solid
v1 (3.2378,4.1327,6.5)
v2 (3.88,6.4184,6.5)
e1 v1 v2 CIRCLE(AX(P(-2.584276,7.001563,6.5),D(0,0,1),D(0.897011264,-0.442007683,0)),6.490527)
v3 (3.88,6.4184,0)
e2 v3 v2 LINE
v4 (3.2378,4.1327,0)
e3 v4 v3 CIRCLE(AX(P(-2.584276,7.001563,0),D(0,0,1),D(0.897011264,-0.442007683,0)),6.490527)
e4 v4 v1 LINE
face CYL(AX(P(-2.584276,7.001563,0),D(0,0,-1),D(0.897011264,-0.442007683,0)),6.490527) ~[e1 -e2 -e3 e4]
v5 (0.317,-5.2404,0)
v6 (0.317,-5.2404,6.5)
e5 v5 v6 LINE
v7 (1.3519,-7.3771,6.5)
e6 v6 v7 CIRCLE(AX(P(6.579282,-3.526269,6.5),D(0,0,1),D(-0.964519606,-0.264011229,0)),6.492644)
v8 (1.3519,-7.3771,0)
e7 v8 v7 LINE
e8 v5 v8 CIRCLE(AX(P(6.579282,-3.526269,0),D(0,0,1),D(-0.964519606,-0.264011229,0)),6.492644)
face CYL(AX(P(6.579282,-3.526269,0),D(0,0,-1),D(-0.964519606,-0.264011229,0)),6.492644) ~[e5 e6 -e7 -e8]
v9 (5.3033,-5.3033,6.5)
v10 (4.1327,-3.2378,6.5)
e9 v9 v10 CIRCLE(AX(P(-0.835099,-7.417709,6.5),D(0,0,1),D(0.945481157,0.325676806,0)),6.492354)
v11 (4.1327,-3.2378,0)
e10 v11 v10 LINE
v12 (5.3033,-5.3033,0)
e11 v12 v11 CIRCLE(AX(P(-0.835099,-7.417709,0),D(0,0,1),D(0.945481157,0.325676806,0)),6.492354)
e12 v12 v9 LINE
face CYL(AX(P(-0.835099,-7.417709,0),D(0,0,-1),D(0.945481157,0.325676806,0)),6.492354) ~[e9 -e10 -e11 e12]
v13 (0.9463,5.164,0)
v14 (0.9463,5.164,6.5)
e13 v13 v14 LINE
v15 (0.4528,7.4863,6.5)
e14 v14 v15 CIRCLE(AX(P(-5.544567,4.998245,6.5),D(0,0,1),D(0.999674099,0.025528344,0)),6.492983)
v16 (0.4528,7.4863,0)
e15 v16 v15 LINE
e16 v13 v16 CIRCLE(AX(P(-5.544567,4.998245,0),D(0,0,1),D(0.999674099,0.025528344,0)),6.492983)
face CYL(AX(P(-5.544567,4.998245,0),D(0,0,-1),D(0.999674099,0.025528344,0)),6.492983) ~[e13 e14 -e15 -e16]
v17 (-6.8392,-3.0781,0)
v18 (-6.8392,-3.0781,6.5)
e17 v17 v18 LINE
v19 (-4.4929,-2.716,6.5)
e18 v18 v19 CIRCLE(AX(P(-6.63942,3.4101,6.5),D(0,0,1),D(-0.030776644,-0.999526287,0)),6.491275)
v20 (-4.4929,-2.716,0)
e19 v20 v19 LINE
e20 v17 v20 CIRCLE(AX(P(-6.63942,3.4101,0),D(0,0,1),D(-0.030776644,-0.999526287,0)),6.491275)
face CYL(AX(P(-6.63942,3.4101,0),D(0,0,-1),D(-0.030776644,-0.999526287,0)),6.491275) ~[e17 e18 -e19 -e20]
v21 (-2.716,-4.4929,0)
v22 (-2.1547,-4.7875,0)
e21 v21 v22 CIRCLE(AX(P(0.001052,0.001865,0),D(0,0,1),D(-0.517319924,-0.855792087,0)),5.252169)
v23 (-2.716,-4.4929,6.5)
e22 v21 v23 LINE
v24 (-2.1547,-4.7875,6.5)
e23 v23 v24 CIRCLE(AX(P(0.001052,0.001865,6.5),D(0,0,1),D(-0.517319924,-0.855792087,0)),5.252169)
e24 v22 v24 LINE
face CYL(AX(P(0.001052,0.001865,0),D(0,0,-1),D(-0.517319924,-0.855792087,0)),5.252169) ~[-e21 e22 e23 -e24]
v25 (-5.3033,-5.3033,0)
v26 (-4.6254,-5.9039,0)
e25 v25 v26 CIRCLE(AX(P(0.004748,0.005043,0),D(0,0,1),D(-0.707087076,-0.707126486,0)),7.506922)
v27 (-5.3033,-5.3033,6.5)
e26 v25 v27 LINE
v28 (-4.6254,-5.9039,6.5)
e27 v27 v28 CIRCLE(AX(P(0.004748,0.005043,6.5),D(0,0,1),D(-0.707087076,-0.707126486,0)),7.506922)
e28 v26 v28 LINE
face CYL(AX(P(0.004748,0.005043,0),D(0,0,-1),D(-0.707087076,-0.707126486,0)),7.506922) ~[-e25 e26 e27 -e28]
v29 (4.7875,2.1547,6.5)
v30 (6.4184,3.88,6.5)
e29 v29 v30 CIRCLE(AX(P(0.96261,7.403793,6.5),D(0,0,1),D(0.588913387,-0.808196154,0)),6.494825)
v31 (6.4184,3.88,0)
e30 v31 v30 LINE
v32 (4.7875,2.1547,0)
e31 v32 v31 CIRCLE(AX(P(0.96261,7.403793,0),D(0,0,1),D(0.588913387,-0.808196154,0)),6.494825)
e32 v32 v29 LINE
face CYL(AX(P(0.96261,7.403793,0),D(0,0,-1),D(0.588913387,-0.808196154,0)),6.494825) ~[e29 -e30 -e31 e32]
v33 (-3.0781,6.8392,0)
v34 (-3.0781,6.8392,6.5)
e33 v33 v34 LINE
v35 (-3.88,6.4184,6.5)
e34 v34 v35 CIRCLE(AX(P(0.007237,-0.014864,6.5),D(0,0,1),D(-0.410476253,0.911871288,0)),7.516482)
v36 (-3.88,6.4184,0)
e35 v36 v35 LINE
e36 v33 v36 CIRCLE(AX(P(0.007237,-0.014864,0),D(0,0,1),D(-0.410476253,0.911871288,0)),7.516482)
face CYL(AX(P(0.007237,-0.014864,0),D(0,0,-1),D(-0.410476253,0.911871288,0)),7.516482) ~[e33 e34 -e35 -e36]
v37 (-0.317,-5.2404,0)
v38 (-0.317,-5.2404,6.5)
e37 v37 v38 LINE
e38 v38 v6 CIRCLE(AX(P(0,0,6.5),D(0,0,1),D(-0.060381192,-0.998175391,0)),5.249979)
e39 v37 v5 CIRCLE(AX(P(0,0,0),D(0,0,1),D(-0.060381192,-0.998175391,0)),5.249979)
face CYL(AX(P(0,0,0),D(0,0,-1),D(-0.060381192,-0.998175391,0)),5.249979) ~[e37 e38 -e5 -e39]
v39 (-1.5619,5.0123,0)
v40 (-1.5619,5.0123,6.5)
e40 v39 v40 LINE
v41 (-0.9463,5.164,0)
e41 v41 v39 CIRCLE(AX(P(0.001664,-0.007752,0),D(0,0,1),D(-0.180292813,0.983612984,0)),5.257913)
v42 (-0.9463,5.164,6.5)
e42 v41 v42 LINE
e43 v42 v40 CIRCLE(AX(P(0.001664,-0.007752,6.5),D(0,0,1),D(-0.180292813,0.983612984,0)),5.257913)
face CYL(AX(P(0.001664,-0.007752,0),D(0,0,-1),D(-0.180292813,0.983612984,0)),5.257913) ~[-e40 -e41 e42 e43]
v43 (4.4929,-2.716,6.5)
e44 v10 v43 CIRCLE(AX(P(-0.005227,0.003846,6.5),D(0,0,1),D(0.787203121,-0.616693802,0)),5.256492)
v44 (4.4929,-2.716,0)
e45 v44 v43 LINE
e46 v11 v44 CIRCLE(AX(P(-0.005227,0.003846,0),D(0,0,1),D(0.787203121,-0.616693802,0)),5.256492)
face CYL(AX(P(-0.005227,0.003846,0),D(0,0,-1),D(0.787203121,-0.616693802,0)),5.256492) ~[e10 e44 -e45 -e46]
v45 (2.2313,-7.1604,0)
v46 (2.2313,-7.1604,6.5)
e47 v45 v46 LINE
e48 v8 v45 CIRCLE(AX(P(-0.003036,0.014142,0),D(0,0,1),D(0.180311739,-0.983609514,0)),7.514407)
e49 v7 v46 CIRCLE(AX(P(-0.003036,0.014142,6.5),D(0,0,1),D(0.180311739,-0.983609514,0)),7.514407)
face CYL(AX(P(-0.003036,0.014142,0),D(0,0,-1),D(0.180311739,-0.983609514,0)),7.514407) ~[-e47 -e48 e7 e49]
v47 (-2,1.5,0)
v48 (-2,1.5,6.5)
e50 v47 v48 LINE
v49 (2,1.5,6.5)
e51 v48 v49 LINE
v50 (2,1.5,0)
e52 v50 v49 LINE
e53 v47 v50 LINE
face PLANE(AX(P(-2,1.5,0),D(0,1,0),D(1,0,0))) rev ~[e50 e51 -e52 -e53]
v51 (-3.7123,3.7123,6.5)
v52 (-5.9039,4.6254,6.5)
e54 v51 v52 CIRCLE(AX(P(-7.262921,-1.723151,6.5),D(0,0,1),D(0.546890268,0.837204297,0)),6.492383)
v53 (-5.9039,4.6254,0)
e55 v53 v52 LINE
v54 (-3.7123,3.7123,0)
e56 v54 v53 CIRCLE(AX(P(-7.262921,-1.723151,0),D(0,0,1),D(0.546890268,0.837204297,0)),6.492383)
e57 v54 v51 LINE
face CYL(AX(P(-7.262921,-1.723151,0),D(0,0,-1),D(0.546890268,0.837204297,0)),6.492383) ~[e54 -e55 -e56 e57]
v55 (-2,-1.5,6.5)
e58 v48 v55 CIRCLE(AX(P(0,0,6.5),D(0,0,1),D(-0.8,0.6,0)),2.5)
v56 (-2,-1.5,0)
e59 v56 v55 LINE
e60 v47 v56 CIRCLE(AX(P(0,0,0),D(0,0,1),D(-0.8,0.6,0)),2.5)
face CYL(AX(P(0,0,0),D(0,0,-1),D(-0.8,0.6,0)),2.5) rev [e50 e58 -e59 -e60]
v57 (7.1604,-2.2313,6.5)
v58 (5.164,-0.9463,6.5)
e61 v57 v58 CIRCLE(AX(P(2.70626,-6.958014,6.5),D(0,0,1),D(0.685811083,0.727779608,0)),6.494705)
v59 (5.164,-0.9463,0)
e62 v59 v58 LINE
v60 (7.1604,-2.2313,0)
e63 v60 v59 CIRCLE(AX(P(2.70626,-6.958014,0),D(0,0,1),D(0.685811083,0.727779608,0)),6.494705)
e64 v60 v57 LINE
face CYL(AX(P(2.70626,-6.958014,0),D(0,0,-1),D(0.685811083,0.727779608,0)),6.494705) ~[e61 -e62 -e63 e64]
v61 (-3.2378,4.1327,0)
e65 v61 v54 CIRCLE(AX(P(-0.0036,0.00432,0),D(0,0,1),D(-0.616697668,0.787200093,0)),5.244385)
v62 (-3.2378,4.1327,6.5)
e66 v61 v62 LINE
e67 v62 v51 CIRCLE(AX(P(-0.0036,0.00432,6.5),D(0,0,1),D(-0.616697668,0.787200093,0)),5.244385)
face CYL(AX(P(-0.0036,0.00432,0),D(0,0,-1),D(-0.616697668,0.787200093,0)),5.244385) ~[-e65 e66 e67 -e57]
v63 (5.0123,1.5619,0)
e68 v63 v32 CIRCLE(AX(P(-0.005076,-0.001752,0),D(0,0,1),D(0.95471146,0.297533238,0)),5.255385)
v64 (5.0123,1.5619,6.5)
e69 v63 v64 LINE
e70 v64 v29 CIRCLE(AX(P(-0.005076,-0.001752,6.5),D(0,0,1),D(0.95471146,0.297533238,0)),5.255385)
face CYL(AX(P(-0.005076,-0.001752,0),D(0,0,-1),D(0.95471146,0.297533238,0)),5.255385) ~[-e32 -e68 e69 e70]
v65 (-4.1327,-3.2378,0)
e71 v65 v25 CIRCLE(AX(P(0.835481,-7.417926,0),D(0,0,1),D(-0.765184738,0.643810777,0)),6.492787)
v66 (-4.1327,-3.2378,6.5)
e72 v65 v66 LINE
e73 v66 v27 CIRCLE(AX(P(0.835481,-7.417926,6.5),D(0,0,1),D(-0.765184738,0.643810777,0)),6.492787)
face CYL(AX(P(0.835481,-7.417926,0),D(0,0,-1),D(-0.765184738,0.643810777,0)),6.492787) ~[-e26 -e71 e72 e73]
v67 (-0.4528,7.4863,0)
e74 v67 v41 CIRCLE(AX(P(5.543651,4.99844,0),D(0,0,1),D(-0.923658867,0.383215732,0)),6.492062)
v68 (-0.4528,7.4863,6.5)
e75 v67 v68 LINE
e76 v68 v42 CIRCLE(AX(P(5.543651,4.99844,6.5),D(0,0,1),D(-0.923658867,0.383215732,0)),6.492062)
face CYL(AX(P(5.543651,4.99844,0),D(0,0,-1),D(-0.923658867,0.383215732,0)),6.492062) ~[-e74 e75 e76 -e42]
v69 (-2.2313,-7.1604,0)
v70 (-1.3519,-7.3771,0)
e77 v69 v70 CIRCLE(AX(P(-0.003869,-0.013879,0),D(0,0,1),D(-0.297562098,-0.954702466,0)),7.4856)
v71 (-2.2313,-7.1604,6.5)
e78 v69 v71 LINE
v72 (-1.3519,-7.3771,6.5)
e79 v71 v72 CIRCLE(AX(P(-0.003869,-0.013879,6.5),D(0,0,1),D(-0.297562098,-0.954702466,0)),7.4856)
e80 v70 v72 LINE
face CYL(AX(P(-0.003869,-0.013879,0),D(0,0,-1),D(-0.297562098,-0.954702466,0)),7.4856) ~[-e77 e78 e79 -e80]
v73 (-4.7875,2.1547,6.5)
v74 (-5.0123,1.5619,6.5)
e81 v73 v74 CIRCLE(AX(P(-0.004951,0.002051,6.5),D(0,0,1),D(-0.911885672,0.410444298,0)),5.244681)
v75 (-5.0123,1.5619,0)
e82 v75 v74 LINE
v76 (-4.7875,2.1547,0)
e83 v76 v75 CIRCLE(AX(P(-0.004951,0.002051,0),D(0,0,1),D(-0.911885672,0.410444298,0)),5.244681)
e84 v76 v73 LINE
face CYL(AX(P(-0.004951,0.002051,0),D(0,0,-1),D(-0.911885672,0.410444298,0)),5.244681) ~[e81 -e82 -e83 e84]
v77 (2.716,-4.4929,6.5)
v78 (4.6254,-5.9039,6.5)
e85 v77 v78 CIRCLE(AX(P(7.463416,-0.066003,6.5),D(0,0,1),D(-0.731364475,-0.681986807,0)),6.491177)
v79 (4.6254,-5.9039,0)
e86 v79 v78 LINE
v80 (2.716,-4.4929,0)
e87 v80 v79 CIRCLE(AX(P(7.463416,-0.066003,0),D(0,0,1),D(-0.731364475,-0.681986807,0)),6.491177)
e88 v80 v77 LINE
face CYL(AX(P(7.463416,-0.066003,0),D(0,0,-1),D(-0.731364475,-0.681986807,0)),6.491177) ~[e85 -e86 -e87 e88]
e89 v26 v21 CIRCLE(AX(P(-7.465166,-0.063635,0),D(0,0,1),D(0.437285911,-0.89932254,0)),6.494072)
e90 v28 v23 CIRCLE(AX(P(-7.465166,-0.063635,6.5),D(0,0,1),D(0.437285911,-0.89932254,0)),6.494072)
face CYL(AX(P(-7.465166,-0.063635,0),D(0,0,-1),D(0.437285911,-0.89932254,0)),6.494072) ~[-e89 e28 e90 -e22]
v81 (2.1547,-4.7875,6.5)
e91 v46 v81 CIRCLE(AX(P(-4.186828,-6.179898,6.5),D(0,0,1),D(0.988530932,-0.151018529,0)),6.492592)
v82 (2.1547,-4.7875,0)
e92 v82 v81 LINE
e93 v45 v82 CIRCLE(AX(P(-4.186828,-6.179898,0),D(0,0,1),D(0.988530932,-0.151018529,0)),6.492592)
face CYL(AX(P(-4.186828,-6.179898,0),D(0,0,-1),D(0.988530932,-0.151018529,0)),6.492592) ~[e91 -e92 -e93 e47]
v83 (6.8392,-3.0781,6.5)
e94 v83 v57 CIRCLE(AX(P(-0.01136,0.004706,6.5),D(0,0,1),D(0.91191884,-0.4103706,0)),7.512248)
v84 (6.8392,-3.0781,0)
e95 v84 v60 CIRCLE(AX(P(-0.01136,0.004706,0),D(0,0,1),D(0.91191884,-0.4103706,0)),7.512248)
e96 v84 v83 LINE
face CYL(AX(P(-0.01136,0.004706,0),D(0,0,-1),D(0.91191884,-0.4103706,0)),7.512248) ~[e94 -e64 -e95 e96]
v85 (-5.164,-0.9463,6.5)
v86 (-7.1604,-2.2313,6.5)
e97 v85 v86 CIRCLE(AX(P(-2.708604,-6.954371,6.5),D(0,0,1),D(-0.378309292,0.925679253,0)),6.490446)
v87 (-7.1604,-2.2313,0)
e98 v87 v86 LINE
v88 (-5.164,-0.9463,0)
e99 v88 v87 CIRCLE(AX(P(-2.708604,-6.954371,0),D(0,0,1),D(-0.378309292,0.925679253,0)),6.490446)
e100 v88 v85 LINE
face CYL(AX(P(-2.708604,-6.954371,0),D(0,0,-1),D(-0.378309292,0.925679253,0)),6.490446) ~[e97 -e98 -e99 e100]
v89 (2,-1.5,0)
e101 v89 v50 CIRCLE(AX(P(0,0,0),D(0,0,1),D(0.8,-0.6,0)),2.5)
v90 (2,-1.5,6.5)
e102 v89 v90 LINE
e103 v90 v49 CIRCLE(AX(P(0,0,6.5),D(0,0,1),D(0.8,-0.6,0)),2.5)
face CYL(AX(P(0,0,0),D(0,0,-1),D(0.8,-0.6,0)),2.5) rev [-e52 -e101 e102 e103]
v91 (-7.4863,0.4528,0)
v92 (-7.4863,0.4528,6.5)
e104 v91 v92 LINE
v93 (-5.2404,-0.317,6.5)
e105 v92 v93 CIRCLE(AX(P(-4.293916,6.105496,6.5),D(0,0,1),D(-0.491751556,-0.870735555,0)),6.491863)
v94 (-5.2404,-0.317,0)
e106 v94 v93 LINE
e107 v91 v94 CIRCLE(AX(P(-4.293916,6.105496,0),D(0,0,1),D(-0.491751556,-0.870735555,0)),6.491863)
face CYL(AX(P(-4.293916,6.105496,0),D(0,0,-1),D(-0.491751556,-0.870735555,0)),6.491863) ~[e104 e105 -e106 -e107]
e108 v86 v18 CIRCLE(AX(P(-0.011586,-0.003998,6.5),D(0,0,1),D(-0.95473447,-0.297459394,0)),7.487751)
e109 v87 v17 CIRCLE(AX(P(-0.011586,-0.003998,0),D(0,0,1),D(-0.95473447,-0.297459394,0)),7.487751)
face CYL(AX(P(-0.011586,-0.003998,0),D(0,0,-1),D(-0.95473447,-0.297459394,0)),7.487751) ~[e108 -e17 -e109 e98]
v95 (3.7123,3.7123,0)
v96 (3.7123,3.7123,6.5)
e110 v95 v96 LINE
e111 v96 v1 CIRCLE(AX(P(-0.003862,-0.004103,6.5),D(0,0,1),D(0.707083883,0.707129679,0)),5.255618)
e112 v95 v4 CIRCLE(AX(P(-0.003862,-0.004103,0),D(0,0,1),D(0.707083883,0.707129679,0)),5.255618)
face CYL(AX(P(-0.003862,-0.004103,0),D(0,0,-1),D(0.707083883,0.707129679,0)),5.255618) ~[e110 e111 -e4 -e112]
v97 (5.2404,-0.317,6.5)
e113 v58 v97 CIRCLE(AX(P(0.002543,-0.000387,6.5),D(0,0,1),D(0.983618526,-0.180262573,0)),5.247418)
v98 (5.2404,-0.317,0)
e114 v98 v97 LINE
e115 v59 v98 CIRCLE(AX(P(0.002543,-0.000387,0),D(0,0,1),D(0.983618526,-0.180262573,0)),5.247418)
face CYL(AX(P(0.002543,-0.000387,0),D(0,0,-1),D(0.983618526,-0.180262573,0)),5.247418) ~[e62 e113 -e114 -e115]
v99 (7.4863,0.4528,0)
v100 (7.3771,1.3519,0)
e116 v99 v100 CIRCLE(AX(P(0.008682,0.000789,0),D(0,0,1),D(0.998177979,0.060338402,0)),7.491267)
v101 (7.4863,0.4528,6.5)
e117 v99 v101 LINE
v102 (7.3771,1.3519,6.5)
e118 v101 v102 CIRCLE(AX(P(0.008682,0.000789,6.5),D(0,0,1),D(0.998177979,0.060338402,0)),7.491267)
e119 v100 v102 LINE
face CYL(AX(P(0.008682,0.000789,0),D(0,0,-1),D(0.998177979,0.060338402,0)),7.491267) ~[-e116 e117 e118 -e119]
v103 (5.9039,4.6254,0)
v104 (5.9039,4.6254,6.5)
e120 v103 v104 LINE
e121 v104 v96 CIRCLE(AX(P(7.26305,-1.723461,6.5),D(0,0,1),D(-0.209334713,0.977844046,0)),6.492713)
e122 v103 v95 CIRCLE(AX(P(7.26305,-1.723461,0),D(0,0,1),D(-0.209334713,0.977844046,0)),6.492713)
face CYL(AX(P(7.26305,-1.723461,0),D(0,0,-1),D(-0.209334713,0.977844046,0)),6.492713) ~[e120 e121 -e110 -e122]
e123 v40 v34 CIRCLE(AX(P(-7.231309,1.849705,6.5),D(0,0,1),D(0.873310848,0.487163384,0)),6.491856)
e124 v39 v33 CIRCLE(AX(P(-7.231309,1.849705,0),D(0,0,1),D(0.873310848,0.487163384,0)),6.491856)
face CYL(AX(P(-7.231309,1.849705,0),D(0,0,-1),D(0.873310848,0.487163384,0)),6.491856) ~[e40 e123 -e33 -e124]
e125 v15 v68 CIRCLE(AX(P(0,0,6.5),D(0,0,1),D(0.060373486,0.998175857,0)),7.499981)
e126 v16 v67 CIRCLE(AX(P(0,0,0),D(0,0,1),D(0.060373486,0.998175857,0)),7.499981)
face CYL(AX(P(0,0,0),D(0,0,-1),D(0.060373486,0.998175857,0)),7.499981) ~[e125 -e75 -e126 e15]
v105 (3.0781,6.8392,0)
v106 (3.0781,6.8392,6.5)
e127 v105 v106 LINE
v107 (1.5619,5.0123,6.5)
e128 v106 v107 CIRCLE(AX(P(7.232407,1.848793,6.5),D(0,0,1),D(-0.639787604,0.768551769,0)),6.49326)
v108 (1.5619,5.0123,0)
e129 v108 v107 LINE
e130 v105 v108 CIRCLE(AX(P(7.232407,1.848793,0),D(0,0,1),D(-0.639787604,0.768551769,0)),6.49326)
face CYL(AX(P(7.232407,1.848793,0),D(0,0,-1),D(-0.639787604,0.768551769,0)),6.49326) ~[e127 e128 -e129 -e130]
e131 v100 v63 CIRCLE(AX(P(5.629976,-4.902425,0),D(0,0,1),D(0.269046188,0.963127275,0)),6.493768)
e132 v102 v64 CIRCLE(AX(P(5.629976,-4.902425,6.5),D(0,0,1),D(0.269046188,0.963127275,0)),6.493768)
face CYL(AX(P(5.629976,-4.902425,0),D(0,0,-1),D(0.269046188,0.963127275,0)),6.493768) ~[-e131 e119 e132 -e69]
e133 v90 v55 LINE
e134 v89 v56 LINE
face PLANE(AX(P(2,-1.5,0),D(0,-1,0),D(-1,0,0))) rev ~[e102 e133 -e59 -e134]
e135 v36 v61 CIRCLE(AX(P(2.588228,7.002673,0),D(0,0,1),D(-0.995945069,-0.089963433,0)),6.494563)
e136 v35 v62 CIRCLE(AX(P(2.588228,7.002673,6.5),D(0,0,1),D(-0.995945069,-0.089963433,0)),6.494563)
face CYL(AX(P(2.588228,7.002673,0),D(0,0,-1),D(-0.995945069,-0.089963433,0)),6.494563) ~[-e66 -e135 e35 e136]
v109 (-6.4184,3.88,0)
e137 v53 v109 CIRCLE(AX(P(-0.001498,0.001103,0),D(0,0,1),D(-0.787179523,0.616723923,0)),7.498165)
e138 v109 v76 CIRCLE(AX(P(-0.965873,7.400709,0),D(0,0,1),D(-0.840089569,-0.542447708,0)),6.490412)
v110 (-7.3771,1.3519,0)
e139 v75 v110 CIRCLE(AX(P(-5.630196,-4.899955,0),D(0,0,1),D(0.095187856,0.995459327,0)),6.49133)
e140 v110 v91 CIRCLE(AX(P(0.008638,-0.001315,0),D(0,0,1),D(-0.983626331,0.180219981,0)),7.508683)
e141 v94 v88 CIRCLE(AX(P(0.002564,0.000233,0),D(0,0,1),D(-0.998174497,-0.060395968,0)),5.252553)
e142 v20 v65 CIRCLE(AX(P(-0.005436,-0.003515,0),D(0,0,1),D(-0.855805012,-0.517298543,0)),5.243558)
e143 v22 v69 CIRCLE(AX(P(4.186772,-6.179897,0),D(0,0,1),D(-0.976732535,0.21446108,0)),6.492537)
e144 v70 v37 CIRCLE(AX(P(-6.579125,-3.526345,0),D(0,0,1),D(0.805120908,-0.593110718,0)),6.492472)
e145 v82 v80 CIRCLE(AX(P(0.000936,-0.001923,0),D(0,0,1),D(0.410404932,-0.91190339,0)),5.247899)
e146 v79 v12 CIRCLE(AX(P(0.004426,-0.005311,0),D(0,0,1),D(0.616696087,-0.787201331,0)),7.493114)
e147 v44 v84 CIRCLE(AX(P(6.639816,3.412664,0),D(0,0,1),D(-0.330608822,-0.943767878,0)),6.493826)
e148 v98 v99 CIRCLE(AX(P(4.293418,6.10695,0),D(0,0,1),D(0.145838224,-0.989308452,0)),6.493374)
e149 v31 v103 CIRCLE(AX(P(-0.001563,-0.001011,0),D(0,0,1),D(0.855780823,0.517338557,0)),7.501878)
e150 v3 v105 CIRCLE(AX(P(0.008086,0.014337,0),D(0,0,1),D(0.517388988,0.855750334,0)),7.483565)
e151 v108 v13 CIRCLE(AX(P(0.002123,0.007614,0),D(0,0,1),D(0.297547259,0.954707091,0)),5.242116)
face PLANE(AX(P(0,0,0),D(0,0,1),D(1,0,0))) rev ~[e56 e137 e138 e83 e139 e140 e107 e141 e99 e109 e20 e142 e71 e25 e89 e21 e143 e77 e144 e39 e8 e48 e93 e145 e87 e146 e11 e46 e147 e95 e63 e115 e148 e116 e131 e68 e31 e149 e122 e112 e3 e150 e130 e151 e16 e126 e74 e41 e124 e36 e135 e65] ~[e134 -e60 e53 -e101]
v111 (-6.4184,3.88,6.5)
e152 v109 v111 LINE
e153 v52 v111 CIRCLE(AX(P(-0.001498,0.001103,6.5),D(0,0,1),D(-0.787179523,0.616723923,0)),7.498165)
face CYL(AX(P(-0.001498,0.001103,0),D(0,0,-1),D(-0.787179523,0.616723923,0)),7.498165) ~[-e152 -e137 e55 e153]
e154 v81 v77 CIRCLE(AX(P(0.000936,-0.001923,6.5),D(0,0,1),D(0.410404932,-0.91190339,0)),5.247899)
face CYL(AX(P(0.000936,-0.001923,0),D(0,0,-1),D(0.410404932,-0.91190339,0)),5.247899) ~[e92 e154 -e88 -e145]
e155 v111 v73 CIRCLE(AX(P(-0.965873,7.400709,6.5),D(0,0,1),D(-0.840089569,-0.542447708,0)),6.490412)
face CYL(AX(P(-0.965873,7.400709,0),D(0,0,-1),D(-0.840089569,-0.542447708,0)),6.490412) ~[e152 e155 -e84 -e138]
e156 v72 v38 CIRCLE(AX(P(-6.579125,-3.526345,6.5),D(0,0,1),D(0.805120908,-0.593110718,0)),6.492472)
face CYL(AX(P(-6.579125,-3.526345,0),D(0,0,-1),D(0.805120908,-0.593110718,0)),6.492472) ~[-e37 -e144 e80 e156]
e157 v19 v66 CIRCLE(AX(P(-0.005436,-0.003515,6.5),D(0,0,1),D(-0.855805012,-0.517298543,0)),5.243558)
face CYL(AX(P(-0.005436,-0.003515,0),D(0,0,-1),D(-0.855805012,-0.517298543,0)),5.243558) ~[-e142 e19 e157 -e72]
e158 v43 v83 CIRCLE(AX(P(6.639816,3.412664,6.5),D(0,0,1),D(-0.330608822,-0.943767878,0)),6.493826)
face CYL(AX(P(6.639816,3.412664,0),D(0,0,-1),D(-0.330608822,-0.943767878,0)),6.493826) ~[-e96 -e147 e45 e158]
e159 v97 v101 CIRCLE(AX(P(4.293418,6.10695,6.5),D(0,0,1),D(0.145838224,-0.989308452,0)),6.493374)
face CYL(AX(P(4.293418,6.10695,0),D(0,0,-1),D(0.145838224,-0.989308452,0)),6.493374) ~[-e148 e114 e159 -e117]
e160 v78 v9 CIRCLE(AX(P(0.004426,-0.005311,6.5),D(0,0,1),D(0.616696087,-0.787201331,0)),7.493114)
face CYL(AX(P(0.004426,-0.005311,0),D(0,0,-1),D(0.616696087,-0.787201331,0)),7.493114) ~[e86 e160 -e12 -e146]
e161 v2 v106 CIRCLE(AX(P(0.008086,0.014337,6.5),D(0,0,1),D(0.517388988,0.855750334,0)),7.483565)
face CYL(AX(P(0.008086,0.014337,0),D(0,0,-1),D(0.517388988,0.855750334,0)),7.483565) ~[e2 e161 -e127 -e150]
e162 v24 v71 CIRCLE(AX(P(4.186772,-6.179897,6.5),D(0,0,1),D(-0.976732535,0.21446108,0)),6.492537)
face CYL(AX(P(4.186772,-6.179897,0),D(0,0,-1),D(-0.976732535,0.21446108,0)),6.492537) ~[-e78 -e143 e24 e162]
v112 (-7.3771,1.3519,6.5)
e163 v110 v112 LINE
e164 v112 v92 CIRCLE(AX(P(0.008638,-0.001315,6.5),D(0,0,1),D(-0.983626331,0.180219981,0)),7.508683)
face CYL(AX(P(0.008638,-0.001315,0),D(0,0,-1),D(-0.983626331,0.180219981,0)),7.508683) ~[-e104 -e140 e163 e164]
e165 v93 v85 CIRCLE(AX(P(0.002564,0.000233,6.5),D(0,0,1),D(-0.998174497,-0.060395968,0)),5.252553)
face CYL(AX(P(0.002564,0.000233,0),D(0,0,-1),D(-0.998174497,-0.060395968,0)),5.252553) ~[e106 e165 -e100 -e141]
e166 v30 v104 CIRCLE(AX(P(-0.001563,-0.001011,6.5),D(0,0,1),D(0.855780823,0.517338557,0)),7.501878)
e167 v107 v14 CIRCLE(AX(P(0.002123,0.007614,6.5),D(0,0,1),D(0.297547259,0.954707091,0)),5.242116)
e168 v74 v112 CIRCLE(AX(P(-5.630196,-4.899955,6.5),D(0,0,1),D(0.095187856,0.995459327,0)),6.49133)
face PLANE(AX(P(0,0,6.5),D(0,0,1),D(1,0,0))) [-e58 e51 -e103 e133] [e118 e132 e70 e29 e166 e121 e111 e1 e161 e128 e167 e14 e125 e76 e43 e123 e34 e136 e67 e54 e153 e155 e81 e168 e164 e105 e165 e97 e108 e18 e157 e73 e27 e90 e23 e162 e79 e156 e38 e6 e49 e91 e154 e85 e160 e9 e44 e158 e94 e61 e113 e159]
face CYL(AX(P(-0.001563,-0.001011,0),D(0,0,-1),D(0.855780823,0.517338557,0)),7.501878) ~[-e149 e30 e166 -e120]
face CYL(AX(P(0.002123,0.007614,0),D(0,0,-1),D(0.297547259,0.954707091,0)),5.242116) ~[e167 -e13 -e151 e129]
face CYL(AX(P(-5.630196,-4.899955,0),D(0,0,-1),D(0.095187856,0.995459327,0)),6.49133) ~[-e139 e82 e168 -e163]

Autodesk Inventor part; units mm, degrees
ref_plane "YZ Plane" through (0, 0, 0) normal (1, 0, 0) x (0, 1, 0)
ref_plane "XZ Plane" through (0, 0, 0) normal (0, 1, 0) x (-1, 0, 0)
ref_plane "XY Plane" through (0, 0, 0) normal (0, 0, 1) x (1, 0, 0)
sketch "スケッチ1" plane through (0, 0, 0) normal (0, 0, 1) x (1, 0, 0)
  arc A0 (-3.88, 6.4184) -> (-3.2378, 4.1327) centre (2.5862, 7.0023) ccw
  arc A1 (-3.2378, 4.1327) -> (-3.7123, 3.7123) centre (0, 0) ccw
  arc A2 (-3.7123, 3.7123) -> (-5.9039, 4.6254) centre (-7.263, -1.7233) ccw
  arc A3 (-5.9039, 4.6254) -> (-6.4184, 3.88) centre (0, 0) ccw
  arc A4 (-6.4184, 3.88) -> (-4.7875, 2.1547) centre (-0.9641, 7.4021) ccw
  arc A5 (-4.7875, 2.1547) -> (-5.0123, 1.5619) centre (0, 0) ccw
  arc A6 (-5.0123, 1.5619) -> (-7.3771, 1.3519) centre (-5.6302, -4.9012) ccw
  arc A7 (-7.3771, 1.3519) -> (-7.4863, 0.4528) centre (0, 0) ccw
  arc A8 (-7.4863, 0.4528) -> (-5.2404, -0.317) centre (-4.2936, 6.1062) ccw
  arc A9 (-5.2404, -0.317) -> (-5.164, -0.9463) centre (0, 0) ccw
  arc A10 (-5.164, -0.9463) -> (-7.1604, -2.2313) centre (-2.7076, -6.9563) ccw
  arc A11 (-7.1604, -2.2313) -> (-6.8392, -3.0781) centre (0, 0) ccw
  arc A12 (-6.8392, -3.0781) -> (-4.4929, -2.716) centre (-6.6395, 3.4114) ccw
  arc A13 (-4.4929, -2.716) -> (-4.1327, -3.2378) centre (0, 0) ccw
  arc A14 (-4.1327, -3.2378) -> (-5.3033, -5.3033) centre (0.8353, -7.4178) ccw
  arc A15 (-5.3033, -5.3033) -> (-4.6254, -5.9039) centre (0, 0) ccw
  arc A16 (-4.6254, -5.9039) -> (-2.716, -4.4929) centre (-7.4644, -0.0649) ccw
  arc A17 (-2.716, -4.4929) -> (-2.1547, -4.7875) centre (0, 0) ccw
  arc A18 (-2.1547, -4.7875) -> (-2.2313, -7.1604) centre (4.1868, -6.1799) ccw
  arc A19 (-2.2313, -7.1604) -> (-1.3519, -7.3771) centre (0, 0) ccw
  arc A20 (-1.3519, -7.3771) -> (-0.317, -5.2404) centre (-6.5792, -3.5263) ccw
  arc A21 (-0.317, -5.2404) -> (0.317, -5.2404) centre (0, 0) ccw
  arc A22 (0.317, -5.2404) -> (1.3519, -7.3771) centre (6.5792, -3.5263) ccw
  arc A23 (1.3519, -7.3771) -> (2.2313, -7.1604) centre (0, 0) ccw
  arc A24 (2.2313, -7.1604) -> (2.1547, -4.7875) centre (-4.1868, -6.1799) ccw
  arc A25 (2.1547, -4.7875) -> (2.716, -4.4929) centre (0, 0) ccw
  arc A26 (2.716, -4.4929) -> (4.6254, -5.9039) centre (7.4644, -0.0649) ccw
  arc A27 (4.6254, -5.9039) -> (5.3033, -5.3033) centre (0, 0) ccw
  arc A28 (5.3033, -5.3033) -> (4.1327, -3.2378) centre (-0.8353, -7.4178) ccw
  arc A29 (4.1327, -3.2378) -> (4.4929, -2.716) centre (0, 0) ccw
  arc A30 (4.4929, -2.716) -> (6.8392, -3.0781) centre (6.6395, 3.4114) ccw
  arc A31 (6.8392, -3.0781) -> (7.1604, -2.2313) centre (0, 0) ccw
  arc A32 (7.1604, -2.2313) -> (5.164, -0.9463) centre (2.7076, -6.9563) ccw
  arc A33 (5.164, -0.9463) -> (5.2404, -0.317) centre (0, 0) ccw
  arc A34 (5.2404, -0.317) -> (7.4863, 0.4528) centre (4.2936, 6.1062) ccw
  arc A35 (7.4863, 0.4528) -> (7.3771, 1.3519) centre (0, 0) ccw
  arc A36 (7.3771, 1.3519) -> (5.0123, 1.5619) centre (5.6302, -4.9012) ccw
  arc A37 (5.0123, 1.5619) -> (4.7875, 2.1547) centre (0, 0) ccw
  arc A38 (4.7875, 2.1547) -> (6.4184, 3.88) centre (0.9641, 7.4021) ccw
  arc A39 (6.4184, 3.88) -> (5.9039, 4.6254) centre (0, 0) ccw
  arc A40 (5.9039, 4.6254) -> (3.7123, 3.7123) centre (7.263, -1.7233) ccw
  arc A41 (3.7123, 3.7123) -> (3.2378, 4.1327) centre (0, 0) ccw
  arc A42 (3.2378, 4.1327) -> (3.88, 6.4184) centre (-2.5862, 7.0023) ccw
  arc A43 (3.88, 6.4184) -> (3.0781, 6.8392) centre (0, 0) ccw
  arc A44 (3.0781, 6.8392) -> (1.5619, 5.0123) centre (7.2319, 1.8493) ccw
  arc A45 (1.5619, 5.0123) -> (0.9463, 5.164) centre (0, 0) ccw
  arc A46 (0.9463, 5.164) -> (0.4528, 7.4863) centre (-5.5441, 4.9983) ccw
  arc A47 (0.4528, 7.4863) -> (-0.4528, 7.4863) centre (0, 0) ccw
  arc A48 (-0.4528, 7.4863) -> (-0.9463, 5.164) centre (5.5441, 4.9983) ccw
  arc A49 (-0.9463, 5.164) -> (-1.5619, 5.0123) centre (0, 0) ccw
  arc A50 (-1.5619, 5.0123) -> (-3.0781, 6.8392) centre (-7.2319, 1.8493) ccw
  arc A51 (-3.0781, 6.8392) -> (-3.88, 6.4184) centre (0, 0) ccw
sketch "スケッチ2" plane through (0, 0, 0) normal (0, 0, 1) x (1, 0, 0)
  line L0 (-2, 1.5) -> (2, 1.5)
  line L1 (2, -1.5) -> (-2, -1.5)
  arc A0 (-2, 1.5) -> (-2, -1.5) centre (0, 0) ccw
  arc A1 (2, -1.5) -> (2, 1.5) centre (0, 0) ccw
  point P0 (0, 0)
  point P1 (0, 0)
  point P2 (0, 0)
  point P3 (0, 0)
  point P4 (0, 0)
  point P5 (0, 0)
  point P6 (0, 0)
  point P7 (0, 0)
  point P8 (0, 0)
  point P9 (0, 0)
  point P10 (0, 0)
  point P11 (0, 0)
  point P12 (0, 0)
  point P13 (0, 0)
  point P14 (0, 0)
  point P15 (0, 0)
  point P16 (0, 0)
  point P17 (0, 0)
  point P18 (0, 0)
  point P19 (0, 0)
  point P20 (0, 0)
  point P21 (0, 0)
  point P22 (0, 0)
  point P23 (0, 0)
  point P24 (0, 0)
  point P25 (0, 0)
extrude "押し出し1" add sketch "スケッチ1" along normal blind 6.5
extrude "押し出し2" cut sketch "スケッチ2" along normal blind 6.5
properties part number "Gear13"
